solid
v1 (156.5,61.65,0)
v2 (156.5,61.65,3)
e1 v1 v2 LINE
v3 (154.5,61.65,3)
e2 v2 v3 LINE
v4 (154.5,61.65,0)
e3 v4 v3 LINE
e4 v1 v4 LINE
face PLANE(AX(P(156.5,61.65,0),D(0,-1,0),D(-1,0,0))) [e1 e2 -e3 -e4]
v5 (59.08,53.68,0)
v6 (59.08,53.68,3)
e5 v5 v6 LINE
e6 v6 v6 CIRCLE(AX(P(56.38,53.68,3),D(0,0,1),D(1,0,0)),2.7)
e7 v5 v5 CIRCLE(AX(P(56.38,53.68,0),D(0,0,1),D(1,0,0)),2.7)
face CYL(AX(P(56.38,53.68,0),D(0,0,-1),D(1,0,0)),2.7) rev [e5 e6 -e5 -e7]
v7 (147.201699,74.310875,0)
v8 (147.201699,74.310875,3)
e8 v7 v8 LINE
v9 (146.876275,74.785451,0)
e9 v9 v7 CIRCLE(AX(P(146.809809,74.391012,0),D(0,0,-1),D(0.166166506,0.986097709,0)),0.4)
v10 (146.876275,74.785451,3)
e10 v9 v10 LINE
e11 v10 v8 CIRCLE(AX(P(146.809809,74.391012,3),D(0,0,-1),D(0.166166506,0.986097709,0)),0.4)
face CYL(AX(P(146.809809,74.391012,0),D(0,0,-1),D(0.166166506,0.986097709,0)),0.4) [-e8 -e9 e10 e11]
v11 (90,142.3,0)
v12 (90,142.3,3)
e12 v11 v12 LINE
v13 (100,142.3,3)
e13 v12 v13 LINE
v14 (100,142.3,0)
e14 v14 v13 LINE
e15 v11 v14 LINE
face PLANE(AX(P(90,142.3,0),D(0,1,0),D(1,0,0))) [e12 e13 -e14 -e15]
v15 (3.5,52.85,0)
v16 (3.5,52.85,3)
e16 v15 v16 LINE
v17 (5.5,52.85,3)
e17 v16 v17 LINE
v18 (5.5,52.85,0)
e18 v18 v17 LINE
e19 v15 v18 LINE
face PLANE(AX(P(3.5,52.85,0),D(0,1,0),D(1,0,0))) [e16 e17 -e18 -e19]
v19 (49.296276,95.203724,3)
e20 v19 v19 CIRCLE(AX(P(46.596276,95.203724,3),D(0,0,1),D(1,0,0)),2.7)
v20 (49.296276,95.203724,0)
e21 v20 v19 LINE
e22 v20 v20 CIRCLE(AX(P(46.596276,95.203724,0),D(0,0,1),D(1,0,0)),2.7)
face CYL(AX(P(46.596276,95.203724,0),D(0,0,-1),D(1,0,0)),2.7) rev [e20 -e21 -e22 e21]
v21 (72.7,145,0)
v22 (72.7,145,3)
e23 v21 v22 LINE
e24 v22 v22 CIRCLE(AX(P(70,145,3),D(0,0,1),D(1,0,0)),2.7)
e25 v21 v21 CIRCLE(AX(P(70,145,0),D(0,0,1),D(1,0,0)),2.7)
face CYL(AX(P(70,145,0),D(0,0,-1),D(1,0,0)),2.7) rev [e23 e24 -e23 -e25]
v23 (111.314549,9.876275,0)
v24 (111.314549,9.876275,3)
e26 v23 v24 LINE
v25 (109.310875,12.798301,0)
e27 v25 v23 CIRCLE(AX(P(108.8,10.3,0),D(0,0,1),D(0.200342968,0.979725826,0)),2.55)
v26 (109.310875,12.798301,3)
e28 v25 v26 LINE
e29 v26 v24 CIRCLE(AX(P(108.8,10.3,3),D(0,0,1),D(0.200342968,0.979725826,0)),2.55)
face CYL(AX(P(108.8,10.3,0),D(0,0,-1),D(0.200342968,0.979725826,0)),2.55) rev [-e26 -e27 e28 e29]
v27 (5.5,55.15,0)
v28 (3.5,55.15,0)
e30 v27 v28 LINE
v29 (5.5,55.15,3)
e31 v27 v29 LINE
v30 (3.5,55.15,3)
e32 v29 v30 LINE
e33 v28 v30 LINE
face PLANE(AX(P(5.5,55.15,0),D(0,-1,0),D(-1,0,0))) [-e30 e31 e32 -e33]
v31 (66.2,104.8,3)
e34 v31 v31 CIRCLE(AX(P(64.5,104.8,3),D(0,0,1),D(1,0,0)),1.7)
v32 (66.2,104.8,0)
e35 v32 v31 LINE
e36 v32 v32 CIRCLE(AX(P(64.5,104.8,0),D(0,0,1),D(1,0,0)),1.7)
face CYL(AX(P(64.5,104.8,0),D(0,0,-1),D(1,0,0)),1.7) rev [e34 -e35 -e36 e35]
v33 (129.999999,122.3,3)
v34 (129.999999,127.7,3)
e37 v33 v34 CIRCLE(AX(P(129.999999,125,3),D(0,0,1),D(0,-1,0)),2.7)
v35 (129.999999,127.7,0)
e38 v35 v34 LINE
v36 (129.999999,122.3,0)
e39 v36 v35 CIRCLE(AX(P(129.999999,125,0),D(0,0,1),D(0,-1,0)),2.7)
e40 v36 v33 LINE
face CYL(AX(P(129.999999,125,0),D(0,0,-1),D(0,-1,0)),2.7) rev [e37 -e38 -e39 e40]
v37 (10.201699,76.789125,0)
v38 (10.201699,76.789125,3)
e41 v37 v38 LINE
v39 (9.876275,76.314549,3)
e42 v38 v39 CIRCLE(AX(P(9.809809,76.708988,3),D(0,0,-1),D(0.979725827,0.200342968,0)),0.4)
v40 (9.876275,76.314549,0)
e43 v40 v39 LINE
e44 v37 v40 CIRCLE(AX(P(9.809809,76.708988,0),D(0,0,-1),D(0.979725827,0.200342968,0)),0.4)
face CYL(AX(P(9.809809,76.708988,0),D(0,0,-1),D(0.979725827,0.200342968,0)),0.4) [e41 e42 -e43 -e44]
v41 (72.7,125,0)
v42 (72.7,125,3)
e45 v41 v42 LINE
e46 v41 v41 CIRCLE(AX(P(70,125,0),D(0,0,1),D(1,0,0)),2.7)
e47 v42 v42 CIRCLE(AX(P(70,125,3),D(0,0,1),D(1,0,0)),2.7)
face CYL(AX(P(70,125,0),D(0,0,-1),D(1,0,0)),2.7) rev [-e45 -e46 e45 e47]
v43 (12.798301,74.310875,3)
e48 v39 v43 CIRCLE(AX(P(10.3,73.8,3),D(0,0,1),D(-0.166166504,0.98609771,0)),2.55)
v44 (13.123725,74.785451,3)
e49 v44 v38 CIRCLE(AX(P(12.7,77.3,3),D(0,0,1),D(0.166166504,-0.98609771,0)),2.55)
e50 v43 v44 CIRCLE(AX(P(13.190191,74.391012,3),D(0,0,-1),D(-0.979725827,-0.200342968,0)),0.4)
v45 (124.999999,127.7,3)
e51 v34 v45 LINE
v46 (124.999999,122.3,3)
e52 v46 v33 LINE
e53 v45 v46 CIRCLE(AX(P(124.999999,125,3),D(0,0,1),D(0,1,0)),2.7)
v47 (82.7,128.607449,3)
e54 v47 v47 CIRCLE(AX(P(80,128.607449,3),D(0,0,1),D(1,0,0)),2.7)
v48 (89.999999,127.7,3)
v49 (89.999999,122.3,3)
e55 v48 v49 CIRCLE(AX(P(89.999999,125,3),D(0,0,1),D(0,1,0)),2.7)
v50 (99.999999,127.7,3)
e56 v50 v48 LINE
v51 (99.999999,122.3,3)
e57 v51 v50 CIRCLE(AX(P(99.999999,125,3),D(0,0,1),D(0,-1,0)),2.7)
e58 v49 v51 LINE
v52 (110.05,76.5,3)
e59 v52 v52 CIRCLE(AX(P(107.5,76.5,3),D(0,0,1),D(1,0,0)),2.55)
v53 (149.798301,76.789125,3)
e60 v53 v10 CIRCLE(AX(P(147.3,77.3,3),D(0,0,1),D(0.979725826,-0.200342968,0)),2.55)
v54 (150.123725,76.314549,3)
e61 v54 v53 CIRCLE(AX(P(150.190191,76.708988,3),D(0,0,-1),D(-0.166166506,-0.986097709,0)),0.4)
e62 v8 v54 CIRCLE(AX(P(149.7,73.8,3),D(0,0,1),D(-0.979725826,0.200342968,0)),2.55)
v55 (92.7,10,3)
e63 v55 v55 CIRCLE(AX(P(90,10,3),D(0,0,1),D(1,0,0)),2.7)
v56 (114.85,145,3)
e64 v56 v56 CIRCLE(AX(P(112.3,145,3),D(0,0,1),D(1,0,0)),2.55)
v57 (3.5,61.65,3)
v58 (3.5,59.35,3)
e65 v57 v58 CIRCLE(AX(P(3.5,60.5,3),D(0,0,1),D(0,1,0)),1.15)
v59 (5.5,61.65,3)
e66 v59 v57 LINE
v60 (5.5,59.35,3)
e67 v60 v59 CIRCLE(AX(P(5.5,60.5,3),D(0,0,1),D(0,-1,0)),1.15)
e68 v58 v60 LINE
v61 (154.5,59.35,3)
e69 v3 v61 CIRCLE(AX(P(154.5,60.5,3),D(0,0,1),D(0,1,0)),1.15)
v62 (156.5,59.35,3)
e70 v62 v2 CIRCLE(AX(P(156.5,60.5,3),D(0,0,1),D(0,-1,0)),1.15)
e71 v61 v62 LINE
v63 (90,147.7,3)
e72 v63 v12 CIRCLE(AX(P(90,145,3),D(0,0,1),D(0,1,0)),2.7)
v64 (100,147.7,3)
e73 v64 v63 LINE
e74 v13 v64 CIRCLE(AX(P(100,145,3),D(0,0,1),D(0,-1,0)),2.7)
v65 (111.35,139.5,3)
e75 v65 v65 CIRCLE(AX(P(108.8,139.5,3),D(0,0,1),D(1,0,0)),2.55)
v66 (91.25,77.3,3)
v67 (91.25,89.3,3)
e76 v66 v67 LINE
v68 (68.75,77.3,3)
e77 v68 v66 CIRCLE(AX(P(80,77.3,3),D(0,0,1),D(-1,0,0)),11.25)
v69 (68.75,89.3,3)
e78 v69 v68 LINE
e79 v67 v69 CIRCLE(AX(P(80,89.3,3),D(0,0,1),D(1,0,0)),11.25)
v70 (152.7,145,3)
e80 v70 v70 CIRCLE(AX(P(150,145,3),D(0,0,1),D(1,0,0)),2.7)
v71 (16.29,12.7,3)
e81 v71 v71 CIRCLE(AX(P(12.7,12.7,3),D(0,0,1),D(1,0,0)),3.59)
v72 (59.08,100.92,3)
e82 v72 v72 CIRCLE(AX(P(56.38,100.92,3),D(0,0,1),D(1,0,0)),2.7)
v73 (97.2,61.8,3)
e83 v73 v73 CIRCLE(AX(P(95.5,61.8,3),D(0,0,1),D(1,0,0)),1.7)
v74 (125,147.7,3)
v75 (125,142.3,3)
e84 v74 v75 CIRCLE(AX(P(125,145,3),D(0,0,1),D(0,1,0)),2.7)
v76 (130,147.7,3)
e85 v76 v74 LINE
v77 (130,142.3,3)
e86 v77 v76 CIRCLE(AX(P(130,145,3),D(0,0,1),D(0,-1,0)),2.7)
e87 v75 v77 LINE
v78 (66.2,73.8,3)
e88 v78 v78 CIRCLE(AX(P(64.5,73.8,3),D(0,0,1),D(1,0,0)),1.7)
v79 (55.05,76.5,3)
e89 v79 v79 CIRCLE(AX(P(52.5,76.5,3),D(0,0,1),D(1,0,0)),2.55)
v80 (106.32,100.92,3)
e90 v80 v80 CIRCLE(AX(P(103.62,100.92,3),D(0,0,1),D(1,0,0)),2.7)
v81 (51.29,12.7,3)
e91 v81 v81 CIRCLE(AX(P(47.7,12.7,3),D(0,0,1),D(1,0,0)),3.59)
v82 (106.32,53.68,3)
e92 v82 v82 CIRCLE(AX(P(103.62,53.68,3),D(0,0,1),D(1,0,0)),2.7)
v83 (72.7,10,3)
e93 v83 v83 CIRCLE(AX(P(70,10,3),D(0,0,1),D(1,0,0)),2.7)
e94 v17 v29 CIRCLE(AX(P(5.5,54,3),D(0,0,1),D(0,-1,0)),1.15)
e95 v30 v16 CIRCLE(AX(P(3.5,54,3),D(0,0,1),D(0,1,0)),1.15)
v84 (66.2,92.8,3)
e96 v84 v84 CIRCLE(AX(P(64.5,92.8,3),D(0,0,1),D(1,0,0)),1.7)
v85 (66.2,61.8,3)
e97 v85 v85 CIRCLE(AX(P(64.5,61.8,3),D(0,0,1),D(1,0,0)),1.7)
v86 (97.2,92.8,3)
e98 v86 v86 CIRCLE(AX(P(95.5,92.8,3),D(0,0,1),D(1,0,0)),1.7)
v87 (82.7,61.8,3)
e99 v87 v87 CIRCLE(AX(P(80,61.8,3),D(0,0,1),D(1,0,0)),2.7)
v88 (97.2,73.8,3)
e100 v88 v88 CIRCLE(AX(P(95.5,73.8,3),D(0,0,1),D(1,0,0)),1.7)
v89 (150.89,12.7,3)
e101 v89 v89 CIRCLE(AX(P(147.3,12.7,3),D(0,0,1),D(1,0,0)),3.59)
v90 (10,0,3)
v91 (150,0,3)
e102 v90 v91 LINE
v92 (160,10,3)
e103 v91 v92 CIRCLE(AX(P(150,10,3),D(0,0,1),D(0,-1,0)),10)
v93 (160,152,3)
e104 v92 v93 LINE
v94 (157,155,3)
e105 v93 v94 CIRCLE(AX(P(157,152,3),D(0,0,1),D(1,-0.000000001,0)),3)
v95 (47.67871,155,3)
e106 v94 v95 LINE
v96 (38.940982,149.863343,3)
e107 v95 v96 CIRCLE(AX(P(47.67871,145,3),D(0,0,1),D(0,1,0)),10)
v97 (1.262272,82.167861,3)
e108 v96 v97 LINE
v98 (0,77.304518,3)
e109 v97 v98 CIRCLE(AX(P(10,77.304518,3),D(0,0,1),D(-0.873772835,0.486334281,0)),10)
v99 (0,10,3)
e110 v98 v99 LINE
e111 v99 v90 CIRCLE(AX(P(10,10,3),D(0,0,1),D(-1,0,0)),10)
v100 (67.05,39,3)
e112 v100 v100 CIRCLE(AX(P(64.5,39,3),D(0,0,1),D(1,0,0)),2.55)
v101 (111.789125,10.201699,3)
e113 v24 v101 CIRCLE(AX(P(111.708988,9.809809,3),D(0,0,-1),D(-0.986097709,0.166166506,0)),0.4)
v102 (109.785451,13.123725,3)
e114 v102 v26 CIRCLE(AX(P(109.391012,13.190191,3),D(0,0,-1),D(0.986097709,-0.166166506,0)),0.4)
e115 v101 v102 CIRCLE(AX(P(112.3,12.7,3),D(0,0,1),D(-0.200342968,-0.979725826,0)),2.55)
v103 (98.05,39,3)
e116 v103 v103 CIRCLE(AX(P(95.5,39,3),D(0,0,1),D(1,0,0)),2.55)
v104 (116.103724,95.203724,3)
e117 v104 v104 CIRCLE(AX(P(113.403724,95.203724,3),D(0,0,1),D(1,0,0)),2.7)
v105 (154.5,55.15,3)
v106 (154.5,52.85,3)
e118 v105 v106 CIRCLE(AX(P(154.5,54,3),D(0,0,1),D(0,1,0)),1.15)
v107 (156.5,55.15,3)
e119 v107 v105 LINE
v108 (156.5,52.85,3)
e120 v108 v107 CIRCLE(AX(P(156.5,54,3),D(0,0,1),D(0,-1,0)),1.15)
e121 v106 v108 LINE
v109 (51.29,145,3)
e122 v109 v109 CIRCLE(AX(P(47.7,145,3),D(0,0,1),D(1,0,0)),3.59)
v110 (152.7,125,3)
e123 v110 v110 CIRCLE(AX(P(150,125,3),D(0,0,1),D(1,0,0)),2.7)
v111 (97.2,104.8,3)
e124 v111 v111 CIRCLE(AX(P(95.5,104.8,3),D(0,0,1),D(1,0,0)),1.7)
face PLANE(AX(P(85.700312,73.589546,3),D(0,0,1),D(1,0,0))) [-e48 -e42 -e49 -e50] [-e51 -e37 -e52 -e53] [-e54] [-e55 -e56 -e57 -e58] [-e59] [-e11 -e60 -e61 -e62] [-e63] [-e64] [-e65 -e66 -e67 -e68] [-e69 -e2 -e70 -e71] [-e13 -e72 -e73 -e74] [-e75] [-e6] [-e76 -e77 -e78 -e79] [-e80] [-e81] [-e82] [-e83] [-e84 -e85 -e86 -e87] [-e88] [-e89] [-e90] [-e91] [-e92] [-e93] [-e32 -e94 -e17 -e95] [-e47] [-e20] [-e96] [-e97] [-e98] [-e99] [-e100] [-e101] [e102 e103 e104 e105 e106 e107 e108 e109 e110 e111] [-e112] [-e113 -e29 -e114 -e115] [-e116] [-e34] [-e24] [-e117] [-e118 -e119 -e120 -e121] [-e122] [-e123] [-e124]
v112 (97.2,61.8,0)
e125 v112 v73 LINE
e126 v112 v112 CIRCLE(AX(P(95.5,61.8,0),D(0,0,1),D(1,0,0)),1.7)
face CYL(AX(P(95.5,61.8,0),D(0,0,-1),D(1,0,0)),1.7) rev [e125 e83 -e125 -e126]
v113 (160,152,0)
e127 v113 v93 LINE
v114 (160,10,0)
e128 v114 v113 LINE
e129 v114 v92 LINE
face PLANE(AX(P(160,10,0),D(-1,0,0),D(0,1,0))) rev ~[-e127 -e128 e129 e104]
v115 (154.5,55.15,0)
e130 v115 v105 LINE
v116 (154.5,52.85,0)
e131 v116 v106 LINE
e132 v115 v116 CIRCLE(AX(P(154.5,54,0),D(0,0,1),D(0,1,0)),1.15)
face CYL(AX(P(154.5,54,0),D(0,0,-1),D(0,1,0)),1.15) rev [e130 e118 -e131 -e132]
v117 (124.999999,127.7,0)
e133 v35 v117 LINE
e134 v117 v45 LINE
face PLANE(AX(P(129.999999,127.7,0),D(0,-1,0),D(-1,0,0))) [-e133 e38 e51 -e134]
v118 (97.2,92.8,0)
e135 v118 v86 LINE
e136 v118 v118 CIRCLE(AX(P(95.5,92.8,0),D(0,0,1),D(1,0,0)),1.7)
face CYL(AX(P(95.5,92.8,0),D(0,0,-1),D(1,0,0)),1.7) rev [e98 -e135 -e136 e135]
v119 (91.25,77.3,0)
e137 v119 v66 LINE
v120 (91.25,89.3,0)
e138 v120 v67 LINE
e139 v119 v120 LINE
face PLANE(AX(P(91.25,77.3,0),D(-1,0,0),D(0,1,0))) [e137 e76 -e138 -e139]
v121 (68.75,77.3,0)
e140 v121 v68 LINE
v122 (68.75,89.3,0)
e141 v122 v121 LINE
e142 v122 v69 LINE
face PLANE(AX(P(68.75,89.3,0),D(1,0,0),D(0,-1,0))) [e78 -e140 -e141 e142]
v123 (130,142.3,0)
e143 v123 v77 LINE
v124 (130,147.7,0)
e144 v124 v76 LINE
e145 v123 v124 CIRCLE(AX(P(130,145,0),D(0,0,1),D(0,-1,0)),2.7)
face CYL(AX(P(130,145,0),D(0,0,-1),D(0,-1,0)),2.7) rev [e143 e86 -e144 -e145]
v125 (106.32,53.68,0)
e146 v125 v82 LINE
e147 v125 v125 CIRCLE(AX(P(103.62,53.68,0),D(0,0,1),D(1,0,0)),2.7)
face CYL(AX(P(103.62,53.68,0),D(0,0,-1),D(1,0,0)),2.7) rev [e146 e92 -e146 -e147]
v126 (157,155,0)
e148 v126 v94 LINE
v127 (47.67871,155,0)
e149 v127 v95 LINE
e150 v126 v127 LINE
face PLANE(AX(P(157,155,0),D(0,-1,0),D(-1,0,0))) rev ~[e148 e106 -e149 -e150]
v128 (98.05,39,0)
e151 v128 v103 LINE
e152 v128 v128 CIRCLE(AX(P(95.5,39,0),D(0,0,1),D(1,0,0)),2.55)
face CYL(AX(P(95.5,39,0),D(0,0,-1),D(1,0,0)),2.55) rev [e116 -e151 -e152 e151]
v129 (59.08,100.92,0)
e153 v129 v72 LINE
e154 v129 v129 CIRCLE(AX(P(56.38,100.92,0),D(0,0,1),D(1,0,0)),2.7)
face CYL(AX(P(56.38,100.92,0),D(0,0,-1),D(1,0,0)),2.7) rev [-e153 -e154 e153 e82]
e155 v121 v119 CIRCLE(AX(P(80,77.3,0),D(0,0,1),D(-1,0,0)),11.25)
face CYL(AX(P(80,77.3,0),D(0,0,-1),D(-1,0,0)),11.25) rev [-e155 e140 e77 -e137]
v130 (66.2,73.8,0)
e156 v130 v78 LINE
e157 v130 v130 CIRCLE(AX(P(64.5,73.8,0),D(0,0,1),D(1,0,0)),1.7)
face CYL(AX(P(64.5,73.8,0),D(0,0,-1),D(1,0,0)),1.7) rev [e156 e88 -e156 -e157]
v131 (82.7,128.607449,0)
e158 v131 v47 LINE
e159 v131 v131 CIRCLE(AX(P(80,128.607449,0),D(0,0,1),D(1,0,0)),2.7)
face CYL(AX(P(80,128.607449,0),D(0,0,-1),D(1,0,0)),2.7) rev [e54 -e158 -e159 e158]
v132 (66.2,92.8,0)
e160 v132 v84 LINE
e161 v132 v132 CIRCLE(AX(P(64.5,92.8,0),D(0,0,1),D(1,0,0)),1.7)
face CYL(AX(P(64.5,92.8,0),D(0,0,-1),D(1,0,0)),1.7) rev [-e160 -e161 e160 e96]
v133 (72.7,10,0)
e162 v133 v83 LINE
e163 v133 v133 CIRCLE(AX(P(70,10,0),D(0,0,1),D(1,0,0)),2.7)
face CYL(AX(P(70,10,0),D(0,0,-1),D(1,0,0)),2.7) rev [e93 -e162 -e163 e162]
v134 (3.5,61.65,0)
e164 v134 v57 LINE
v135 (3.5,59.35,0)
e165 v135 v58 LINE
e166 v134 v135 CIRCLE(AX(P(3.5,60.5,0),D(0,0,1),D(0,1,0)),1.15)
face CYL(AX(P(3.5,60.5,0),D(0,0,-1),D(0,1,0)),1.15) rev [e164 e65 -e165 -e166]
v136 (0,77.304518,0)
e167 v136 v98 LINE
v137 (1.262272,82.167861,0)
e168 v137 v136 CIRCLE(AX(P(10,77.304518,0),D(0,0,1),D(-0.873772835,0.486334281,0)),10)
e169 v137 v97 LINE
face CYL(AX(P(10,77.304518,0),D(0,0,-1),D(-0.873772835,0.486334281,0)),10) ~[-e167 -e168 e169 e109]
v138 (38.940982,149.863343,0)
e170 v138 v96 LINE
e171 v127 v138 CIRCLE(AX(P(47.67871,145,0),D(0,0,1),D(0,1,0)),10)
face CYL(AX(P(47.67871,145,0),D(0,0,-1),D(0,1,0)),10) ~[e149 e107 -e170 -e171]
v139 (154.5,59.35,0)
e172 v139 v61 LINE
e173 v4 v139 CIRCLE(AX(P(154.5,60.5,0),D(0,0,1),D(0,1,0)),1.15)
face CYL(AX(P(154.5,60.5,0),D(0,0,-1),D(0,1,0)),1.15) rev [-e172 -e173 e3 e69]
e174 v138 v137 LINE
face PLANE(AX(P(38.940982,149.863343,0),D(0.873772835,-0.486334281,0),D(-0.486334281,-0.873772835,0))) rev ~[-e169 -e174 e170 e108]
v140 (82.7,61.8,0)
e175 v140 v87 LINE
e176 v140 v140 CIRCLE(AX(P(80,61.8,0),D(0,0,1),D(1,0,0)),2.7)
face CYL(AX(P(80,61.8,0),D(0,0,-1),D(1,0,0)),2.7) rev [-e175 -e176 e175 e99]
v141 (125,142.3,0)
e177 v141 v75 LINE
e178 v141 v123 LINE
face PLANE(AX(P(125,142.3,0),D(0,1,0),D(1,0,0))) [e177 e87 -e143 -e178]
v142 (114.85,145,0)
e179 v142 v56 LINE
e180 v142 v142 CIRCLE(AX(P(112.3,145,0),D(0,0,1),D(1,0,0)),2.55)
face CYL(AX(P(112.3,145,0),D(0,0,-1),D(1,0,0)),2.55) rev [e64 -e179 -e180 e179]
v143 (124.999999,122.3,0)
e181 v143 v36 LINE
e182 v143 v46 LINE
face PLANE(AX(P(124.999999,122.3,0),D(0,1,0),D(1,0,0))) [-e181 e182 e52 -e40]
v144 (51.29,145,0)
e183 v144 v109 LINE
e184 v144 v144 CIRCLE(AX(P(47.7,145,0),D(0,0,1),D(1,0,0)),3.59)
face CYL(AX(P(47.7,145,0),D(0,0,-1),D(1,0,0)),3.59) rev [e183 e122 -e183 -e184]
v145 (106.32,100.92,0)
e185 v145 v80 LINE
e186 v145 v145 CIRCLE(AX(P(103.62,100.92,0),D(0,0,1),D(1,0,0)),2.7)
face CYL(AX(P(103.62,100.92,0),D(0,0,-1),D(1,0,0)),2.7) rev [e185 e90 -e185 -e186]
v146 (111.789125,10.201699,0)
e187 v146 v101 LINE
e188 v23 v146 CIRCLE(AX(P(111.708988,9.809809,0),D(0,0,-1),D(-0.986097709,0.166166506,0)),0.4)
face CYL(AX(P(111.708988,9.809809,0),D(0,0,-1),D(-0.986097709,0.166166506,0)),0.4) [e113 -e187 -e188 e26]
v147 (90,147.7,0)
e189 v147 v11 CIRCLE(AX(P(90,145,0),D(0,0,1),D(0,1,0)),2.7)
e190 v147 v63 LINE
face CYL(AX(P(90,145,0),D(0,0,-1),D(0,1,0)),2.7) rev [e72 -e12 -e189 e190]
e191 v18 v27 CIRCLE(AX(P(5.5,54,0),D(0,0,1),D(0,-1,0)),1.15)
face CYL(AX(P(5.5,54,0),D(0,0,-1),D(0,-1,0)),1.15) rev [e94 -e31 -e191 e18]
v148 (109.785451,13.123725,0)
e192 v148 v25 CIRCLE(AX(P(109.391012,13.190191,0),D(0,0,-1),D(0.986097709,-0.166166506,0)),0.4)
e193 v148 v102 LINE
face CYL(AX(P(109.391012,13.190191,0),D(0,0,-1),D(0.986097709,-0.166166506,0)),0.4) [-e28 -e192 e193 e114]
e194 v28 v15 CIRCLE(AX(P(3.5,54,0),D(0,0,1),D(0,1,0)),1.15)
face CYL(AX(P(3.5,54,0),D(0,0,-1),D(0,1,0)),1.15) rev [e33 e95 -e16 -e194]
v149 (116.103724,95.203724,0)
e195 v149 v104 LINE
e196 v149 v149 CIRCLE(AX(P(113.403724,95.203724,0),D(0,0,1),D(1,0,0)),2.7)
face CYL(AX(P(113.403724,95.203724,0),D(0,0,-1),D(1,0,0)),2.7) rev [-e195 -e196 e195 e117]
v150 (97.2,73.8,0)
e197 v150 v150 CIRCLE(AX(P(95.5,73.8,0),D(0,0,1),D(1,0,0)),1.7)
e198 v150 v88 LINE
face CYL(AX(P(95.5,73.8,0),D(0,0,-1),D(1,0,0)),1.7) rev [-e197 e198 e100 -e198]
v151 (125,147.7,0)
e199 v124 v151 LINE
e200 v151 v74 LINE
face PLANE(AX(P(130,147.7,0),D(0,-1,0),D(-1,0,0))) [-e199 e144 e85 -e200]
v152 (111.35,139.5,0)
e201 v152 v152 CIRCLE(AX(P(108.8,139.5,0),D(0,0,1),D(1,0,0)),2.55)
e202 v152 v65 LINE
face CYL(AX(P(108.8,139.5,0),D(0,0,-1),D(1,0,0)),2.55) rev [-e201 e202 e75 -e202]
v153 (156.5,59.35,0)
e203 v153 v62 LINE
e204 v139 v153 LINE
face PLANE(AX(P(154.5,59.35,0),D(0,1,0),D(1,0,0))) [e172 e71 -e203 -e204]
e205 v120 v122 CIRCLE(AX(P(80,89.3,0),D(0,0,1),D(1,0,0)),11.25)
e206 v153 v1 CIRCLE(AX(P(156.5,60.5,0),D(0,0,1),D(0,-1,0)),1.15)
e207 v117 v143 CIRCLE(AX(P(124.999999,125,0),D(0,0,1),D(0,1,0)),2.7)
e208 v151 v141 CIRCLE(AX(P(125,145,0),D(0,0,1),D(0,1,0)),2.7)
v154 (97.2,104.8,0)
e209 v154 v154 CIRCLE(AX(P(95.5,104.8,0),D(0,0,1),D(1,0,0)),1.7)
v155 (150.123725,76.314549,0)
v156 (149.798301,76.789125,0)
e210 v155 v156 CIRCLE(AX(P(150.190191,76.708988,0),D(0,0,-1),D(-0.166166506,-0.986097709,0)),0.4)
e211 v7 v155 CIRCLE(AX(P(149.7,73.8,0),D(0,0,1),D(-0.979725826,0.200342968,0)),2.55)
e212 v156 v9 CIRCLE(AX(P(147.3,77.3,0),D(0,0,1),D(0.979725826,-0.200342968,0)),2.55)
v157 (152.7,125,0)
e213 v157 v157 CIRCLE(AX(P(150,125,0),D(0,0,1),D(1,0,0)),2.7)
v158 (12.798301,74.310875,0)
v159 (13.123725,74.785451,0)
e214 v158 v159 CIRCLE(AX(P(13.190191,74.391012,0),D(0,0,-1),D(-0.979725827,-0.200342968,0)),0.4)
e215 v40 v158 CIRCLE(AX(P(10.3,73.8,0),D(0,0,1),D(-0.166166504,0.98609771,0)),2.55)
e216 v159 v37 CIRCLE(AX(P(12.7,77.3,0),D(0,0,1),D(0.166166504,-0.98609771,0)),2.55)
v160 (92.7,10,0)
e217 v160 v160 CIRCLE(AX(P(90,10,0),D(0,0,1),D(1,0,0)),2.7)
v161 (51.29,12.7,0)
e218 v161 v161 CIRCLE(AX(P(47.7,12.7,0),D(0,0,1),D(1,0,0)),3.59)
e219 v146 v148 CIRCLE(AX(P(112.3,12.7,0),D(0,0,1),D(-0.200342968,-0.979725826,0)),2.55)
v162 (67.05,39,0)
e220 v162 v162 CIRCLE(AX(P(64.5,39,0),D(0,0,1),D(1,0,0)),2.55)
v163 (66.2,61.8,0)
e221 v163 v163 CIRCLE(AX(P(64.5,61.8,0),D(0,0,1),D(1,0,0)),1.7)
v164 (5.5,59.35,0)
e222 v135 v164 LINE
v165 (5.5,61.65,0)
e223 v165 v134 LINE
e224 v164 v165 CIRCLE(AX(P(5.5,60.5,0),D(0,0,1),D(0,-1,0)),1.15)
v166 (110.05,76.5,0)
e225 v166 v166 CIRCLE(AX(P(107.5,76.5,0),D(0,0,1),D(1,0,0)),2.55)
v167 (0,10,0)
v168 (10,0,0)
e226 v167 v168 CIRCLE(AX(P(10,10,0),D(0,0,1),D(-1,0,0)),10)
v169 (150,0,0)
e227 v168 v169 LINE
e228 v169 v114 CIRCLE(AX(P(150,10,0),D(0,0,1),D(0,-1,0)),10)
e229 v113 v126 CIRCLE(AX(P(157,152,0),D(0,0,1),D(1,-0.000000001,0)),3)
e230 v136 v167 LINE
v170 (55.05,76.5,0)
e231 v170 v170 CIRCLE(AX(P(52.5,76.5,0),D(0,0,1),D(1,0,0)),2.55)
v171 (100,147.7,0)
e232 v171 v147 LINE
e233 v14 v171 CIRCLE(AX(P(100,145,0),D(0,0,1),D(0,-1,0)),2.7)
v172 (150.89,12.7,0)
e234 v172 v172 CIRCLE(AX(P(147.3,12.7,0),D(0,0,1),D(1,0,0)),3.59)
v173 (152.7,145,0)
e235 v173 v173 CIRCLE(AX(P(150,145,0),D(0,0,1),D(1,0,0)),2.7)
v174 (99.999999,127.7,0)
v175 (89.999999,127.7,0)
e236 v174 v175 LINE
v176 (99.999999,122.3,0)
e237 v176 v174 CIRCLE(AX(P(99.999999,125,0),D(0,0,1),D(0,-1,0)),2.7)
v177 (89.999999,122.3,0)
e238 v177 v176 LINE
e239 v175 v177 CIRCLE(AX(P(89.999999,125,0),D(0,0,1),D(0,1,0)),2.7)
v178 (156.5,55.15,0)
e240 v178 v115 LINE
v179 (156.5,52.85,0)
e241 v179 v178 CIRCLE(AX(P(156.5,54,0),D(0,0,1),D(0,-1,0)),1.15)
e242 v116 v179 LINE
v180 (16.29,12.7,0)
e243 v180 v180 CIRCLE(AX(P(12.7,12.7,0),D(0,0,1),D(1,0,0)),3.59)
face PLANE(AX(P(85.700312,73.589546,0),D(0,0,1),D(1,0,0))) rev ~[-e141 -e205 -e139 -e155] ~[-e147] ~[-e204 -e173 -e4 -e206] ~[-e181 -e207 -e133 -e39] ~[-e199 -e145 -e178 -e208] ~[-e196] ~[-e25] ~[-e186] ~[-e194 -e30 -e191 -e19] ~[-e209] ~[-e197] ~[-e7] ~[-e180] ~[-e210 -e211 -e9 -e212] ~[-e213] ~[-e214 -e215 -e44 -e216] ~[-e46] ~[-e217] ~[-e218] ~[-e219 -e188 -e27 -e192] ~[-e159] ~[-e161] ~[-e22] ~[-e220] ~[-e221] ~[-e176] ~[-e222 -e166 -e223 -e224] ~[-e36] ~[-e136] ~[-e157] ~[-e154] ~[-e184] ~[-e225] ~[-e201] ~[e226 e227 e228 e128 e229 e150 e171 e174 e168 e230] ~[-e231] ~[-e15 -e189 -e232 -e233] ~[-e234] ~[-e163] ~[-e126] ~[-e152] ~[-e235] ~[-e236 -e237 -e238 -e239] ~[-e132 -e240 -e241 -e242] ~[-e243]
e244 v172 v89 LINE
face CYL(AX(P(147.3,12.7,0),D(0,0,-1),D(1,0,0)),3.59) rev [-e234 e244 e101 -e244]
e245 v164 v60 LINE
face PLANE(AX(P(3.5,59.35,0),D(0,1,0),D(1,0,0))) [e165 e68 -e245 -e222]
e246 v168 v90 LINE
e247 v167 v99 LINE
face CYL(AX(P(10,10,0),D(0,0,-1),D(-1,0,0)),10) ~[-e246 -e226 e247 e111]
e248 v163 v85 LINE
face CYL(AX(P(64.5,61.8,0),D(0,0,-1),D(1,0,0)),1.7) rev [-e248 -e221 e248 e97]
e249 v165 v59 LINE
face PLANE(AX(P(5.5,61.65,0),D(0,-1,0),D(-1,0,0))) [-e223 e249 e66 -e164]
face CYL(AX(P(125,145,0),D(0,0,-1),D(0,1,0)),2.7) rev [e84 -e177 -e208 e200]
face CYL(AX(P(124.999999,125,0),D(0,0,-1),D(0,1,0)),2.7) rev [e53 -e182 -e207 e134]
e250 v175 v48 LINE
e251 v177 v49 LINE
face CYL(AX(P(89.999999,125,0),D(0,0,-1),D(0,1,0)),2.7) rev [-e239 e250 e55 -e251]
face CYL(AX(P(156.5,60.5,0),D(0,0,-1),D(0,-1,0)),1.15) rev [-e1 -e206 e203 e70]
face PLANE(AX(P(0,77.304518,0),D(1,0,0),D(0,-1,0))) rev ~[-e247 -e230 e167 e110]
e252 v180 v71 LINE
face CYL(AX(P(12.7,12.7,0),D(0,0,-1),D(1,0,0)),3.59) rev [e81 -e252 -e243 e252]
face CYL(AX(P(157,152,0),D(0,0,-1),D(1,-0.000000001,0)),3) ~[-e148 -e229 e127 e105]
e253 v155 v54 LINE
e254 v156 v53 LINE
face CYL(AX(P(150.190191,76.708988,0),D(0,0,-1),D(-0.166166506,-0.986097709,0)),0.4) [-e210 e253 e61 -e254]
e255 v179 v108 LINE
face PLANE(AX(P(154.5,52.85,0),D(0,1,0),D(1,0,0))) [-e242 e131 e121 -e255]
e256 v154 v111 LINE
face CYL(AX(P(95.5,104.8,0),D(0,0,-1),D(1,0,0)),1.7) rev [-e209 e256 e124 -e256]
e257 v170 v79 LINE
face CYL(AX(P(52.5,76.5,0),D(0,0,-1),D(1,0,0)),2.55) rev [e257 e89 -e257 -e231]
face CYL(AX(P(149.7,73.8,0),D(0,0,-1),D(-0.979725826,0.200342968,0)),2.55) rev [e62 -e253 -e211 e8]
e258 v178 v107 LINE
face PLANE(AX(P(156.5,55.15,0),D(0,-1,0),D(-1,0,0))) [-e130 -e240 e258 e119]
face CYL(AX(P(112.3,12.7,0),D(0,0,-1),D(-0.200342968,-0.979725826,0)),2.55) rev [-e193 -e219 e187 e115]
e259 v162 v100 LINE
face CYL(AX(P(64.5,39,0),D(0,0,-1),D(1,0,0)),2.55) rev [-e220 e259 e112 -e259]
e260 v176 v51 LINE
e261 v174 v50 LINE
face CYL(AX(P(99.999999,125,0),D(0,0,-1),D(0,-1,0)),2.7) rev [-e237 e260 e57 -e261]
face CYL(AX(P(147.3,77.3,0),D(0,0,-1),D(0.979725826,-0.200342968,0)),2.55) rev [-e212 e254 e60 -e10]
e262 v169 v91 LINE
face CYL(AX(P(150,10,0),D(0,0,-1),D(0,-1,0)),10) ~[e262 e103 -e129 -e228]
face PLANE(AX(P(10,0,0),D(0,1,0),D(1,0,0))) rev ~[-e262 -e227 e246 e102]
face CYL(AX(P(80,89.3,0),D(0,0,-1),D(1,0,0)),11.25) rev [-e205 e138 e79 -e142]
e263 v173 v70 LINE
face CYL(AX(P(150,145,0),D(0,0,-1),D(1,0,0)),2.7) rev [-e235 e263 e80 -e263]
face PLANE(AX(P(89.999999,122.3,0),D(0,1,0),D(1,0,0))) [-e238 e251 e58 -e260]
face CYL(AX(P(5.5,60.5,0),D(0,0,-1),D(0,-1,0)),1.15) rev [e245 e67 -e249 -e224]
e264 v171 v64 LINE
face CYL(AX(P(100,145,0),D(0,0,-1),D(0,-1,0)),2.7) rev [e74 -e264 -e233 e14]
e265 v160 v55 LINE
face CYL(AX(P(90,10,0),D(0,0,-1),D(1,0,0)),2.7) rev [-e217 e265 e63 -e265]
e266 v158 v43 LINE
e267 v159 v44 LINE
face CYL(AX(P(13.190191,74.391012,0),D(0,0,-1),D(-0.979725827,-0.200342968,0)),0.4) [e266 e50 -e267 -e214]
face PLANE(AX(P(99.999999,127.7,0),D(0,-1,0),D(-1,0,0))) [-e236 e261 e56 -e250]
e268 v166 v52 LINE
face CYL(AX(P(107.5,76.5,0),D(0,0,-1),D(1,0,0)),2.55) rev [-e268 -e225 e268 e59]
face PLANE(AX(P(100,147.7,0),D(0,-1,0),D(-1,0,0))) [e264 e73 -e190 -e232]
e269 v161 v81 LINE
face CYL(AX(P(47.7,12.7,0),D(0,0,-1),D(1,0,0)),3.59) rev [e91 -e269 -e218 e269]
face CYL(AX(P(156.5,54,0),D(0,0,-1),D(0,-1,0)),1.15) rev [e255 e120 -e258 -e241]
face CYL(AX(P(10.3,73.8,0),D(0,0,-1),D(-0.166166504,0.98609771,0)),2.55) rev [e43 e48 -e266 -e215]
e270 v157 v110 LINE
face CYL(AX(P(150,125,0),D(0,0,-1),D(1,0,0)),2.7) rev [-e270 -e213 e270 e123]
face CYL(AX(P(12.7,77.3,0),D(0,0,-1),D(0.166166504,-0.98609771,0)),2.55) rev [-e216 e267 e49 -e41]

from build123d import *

# Parameters (mm, degrees)
MODEL_R                         = 3.59
MODEL_R_2                       = 2.55
MODEL_R_3                       = 1.7
MODEL_R_4                       = 2.7
AUFSATZ_LINEAR_AUSTRAGEN1_DEPTH = 3


with BuildPart() as part:
    # Model → Aufsatz-Linear austragen1 (new body)
    with BuildSketch(Plane.XY):
        with BuildLine():
            Line((157, 155), (47.6787101, 155))
            ThreePointArc((47.6787101, 155), (42.610842111, 153.620714242), (38.94098175, 149.86334281))
            Line((38.94098175, 149.86334281), (1.26227165, 82.167861266))
            ThreePointArc((1.26227165, 82.167861266), (0.32071068, 79.816760135), (0, 77.304518457))
            Line((0, 77.304518457), (0, 10))
            ThreePointArc((0, 10), (2.928932188, 2.928932188), (10, 0))
            Line((10, 0), (150, 0))
            ThreePointArc((150, 0), (157.071067812, 2.928932188), (160, 10))
            Line((160, 10), (160, 152))
            ThreePointArc((160, 152), (159.121320344, 154.121320344), (157, 155))
        make_face()
        with Locations((12.7, 12.7)):
            Circle(MODEL_R, mode=Mode.SUBTRACT)
        with Locations((47.7, 12.7)):
            Circle(MODEL_R, mode=Mode.SUBTRACT)
        with Locations((147.3, 12.7)):
            Circle(MODEL_R, mode=Mode.SUBTRACT)
        with Locations((47.7, 145)):
            Circle(MODEL_R, mode=Mode.SUBTRACT)
        with Locations((112.3, 145)):
            Circle(MODEL_R_2, mode=Mode.SUBTRACT)
        with Locations((52.5, 76.5)):
            Circle(MODEL_R_2, mode=Mode.SUBTRACT)
        with Locations((107.5, 76.5)):
            Circle(MODEL_R_2, mode=Mode.SUBTRACT)
        with Locations((64.5, 39)):
            Circle(MODEL_R_2, mode=Mode.SUBTRACT)
        with Locations((95.5, 39)):
            Circle(MODEL_R_2, mode=Mode.SUBTRACT)
        with Locations((64.5, 61.8)):
            Circle(MODEL_R_3, mode=Mode.SUBTRACT)
        with Locations((64.5, 73.8)):
            Circle(MODEL_R_3, mode=Mode.SUBTRACT)
        with Locations((64.5, 92.8)):
            Circle(MODEL_R_3, mode=Mode.SUBTRACT)
        with Locations((64.5, 104.8)):
            Circle(MODEL_R_3, mode=Mode.SUBTRACT)
        with Locations((95.5, 61.8)):
            Circle(MODEL_R_3, mode=Mode.SUBTRACT)
        with Locations((95.5, 73.8)):
            Circle(MODEL_R_3, mode=Mode.SUBTRACT)
        with Locations((95.5, 92.8)):
            Circle(MODEL_R_3, mode=Mode.SUBTRACT)
        with Locations((95.5, 104.8)):
            Circle(MODEL_R_3, mode=Mode.SUBTRACT)
        with Locations((56.38, 53.68)):
            Circle(MODEL_R_4, mode=Mode.SUBTRACT)
        with Locations((103.62, 53.68)):
            Circle(MODEL_R_4, mode=Mode.SUBTRACT)
        with Locations((103.62, 100.92)):
            Circle(MODEL_R_4, mode=Mode.SUBTRACT)
        with Locations((56.38, 100.92)):
            Circle(MODEL_R_4, mode=Mode.SUBTRACT)
        with Locations((70, 145)):
            Circle(MODEL_R_4, mode=Mode.SUBTRACT)
        with Locations((150, 145)):
            Circle(MODEL_R_4, mode=Mode.SUBTRACT)
        with Locations((150, 125)):
            Circle(MODEL_R_4, mode=Mode.SUBTRACT)
        with Locations((108.8, 139.5)):
            Circle(MODEL_R_2, mode=Mode.SUBTRACT)
        with Locations((80, 61.8)):
            Circle(MODEL_R_4, mode=Mode.SUBTRACT)
        with Locations((113.403724343, 95.203724343)):
            Circle(MODEL_R_4, mode=Mode.SUBTRACT)
        with Locations((80, 128.607448687)):
            Circle(MODEL_R_4, mode=Mode.SUBTRACT)
        with Locations((46.596275657, 95.203724343)):
            Circle(MODEL_R_4, mode=Mode.SUBTRACT)
        with Locations((90, 10)):
            Circle(MODEL_R_4, mode=Mode.SUBTRACT)
        with Locations((70, 10)):
            Circle(MODEL_R_4, mode=Mode.SUBTRACT)
        with Locations((69.999999708, 125.000000186)):
            Circle(MODEL_R_4, mode=Mode.SUBTRACT)
        with BuildLine():
            Line((68.75, 89.3), (68.75, 77.3))
            ThreePointArc((68.75, 77.3), (80, 66.05), (91.25, 77.3))
            Line((91.25, 77.3), (91.25, 89.3))
            ThreePointArc((91.25, 89.3), (80, 100.55), (68.75, 89.3))
        make_face(mode=Mode.SUBTRACT)
        with BuildLine():
            Line((130, 147.7), (125, 147.7))
            ThreePointArc((125, 147.7), (122.3, 145), (125, 142.3))
            Line((125, 142.3), (130, 142.3))
            ThreePointArc((130, 142.3), (132.7, 145), (130, 147.7))
        make_face(mode=Mode.SUBTRACT)
        with BuildLine():
            Line((129.999999456, 127.699999985), (124.999999456, 127.699999985))
            ThreePointArc((124.999999456, 127.699999985), (122.299999456, 124.999999985), (124.999999456, 122.299999985))
            Line((124.999999456, 122.299999985), (129.999999456, 122.299999985))
            ThreePointArc((129.999999456, 122.299999985), (132.699999456, 124.999999985), (129.999999456, 127.699999985))
        make_face(mode=Mode.SUBTRACT)
        with BuildLine():
            Line((99.999999456, 127.699999985), (89.999999456, 127.699999985))
            ThreePointArc((89.999999456, 127.699999985), (87.299999456, 124.999999985), (89.999999456, 122.299999985))
            Line((89.999999456, 122.299999985), (99.999999456, 122.299999985))
            ThreePointArc((99.999999456, 122.299999985), (102.699999456, 124.999999985), (99.999999456, 127.699999985))
        make_face(mode=Mode.SUBTRACT)
        with BuildLine():
            Line((99.999999587, 147.700000259), (89.999999587, 147.700000259))
            ThreePointArc((89.999999587, 147.700000259), (87.299999587, 145.000000259), (89.999999587, 142.300000259))
            Line((89.999999587, 142.300000259), (99.999999587, 142.300000259))
            ThreePointArc((99.999999587, 142.300000259), (102.699999587, 145.000000259), (99.999999587, 147.700000259))
        make_face(mode=Mode.SUBTRACT)
        with BuildLine():
            Line((5.5, 55.15), (3.5, 55.15))
            ThreePointArc((3.5, 55.15), (2.35, 54), (3.5, 52.85))
            Line((3.5, 52.85), (5.5, 52.85))
            ThreePointArc((5.5, 52.85), (6.65, 54), (5.5, 55.15))
        make_face(mode=Mode.SUBTRACT)
        with BuildLine():
            Line((5.5, 61.65), (3.5, 61.65))
            ThreePointArc((3.5, 61.65), (2.35, 60.5), (3.5, 59.35))
            Line((3.5, 59.35), (5.5, 59.35))
            ThreePointArc((5.5, 59.35), (6.65, 60.5), (5.5, 61.65))
        make_face(mode=Mode.SUBTRACT)
        with BuildLine():
            Line((156.5, 55.15), (154.5, 55.15))
            ThreePointArc((154.5, 55.15), (153.35, 54), (154.5, 52.85))
            Line((154.5, 52.85), (156.5, 52.85))
            ThreePointArc((156.5, 52.85), (157.65, 54), (156.5, 55.15))
        make_face(mode=Mode.SUBTRACT)
        with BuildLine():
            Line((156.5, 61.65), (154.5, 61.65))
            ThreePointArc((154.5, 61.65), (153.35, 60.5), (154.5, 59.35))
            Line((154.5, 59.35), (156.5, 59.35))
            ThreePointArc((156.5, 59.35), (157.65, 60.5), (156.5, 61.65))
        make_face(mode=Mode.SUBTRACT)
        with BuildLine():
            ThreePointArc((109.310874569, 12.798300857), (106.696941428, 8.857902693), (111.314549159, 9.876275414))
            ThreePointArc((111.314549159, 9.876275414), (111.482776901, 10.139700353), (111.789125431, 10.201699143))
            ThreePointArc((111.789125431, 10.201699143), (114.403058572, 14.142097307), (109.785450841, 13.123724586))
            ThreePointArc((109.785450841, 13.123724586), (109.617223099, 12.860299647), (109.310874569, 12.798300857))
        make_face(mode=Mode.SUBTRACT)
        with BuildLine():
            ThreePointArc((147.201699143, 74.310874569), (151.142097307, 71.696941428), (150.123724586, 76.314549159))
            ThreePointArc((150.123724586, 76.314549159), (149.860299647, 76.482776901), (149.798300857, 76.789125431))
            ThreePointArc((149.798300857, 76.789125431), (145.857902693, 79.403058572), (146.876275414, 74.785450841))
            ThreePointArc((146.876275414, 74.785450841), (147.139700353, 74.617223099), (147.201699143, 74.310874569))
        make_face(mode=Mode.SUBTRACT)
        with BuildLine():
            ThreePointArc((13.123724586, 74.785450841), (14.142097307, 79.403058572), (10.201699143, 76.789125431))
            ThreePointArc((10.201699143, 76.789125431), (10.139700353, 76.482776901), (9.876275414, 76.314549159))
            ThreePointArc((9.876275414, 76.314549159), (8.857902693, 71.696941428), (12.798300857, 74.310874569))
            ThreePointArc((12.798300857, 74.310874569), (12.860299647, 74.617223099), (13.123724586, 74.785450841))
        make_face(mode=Mode.SUBTRACT)
    extrude(amount=AUFSATZ_LINEAR_AUSTRAGEN1_DEPTH)


solid = part.part
